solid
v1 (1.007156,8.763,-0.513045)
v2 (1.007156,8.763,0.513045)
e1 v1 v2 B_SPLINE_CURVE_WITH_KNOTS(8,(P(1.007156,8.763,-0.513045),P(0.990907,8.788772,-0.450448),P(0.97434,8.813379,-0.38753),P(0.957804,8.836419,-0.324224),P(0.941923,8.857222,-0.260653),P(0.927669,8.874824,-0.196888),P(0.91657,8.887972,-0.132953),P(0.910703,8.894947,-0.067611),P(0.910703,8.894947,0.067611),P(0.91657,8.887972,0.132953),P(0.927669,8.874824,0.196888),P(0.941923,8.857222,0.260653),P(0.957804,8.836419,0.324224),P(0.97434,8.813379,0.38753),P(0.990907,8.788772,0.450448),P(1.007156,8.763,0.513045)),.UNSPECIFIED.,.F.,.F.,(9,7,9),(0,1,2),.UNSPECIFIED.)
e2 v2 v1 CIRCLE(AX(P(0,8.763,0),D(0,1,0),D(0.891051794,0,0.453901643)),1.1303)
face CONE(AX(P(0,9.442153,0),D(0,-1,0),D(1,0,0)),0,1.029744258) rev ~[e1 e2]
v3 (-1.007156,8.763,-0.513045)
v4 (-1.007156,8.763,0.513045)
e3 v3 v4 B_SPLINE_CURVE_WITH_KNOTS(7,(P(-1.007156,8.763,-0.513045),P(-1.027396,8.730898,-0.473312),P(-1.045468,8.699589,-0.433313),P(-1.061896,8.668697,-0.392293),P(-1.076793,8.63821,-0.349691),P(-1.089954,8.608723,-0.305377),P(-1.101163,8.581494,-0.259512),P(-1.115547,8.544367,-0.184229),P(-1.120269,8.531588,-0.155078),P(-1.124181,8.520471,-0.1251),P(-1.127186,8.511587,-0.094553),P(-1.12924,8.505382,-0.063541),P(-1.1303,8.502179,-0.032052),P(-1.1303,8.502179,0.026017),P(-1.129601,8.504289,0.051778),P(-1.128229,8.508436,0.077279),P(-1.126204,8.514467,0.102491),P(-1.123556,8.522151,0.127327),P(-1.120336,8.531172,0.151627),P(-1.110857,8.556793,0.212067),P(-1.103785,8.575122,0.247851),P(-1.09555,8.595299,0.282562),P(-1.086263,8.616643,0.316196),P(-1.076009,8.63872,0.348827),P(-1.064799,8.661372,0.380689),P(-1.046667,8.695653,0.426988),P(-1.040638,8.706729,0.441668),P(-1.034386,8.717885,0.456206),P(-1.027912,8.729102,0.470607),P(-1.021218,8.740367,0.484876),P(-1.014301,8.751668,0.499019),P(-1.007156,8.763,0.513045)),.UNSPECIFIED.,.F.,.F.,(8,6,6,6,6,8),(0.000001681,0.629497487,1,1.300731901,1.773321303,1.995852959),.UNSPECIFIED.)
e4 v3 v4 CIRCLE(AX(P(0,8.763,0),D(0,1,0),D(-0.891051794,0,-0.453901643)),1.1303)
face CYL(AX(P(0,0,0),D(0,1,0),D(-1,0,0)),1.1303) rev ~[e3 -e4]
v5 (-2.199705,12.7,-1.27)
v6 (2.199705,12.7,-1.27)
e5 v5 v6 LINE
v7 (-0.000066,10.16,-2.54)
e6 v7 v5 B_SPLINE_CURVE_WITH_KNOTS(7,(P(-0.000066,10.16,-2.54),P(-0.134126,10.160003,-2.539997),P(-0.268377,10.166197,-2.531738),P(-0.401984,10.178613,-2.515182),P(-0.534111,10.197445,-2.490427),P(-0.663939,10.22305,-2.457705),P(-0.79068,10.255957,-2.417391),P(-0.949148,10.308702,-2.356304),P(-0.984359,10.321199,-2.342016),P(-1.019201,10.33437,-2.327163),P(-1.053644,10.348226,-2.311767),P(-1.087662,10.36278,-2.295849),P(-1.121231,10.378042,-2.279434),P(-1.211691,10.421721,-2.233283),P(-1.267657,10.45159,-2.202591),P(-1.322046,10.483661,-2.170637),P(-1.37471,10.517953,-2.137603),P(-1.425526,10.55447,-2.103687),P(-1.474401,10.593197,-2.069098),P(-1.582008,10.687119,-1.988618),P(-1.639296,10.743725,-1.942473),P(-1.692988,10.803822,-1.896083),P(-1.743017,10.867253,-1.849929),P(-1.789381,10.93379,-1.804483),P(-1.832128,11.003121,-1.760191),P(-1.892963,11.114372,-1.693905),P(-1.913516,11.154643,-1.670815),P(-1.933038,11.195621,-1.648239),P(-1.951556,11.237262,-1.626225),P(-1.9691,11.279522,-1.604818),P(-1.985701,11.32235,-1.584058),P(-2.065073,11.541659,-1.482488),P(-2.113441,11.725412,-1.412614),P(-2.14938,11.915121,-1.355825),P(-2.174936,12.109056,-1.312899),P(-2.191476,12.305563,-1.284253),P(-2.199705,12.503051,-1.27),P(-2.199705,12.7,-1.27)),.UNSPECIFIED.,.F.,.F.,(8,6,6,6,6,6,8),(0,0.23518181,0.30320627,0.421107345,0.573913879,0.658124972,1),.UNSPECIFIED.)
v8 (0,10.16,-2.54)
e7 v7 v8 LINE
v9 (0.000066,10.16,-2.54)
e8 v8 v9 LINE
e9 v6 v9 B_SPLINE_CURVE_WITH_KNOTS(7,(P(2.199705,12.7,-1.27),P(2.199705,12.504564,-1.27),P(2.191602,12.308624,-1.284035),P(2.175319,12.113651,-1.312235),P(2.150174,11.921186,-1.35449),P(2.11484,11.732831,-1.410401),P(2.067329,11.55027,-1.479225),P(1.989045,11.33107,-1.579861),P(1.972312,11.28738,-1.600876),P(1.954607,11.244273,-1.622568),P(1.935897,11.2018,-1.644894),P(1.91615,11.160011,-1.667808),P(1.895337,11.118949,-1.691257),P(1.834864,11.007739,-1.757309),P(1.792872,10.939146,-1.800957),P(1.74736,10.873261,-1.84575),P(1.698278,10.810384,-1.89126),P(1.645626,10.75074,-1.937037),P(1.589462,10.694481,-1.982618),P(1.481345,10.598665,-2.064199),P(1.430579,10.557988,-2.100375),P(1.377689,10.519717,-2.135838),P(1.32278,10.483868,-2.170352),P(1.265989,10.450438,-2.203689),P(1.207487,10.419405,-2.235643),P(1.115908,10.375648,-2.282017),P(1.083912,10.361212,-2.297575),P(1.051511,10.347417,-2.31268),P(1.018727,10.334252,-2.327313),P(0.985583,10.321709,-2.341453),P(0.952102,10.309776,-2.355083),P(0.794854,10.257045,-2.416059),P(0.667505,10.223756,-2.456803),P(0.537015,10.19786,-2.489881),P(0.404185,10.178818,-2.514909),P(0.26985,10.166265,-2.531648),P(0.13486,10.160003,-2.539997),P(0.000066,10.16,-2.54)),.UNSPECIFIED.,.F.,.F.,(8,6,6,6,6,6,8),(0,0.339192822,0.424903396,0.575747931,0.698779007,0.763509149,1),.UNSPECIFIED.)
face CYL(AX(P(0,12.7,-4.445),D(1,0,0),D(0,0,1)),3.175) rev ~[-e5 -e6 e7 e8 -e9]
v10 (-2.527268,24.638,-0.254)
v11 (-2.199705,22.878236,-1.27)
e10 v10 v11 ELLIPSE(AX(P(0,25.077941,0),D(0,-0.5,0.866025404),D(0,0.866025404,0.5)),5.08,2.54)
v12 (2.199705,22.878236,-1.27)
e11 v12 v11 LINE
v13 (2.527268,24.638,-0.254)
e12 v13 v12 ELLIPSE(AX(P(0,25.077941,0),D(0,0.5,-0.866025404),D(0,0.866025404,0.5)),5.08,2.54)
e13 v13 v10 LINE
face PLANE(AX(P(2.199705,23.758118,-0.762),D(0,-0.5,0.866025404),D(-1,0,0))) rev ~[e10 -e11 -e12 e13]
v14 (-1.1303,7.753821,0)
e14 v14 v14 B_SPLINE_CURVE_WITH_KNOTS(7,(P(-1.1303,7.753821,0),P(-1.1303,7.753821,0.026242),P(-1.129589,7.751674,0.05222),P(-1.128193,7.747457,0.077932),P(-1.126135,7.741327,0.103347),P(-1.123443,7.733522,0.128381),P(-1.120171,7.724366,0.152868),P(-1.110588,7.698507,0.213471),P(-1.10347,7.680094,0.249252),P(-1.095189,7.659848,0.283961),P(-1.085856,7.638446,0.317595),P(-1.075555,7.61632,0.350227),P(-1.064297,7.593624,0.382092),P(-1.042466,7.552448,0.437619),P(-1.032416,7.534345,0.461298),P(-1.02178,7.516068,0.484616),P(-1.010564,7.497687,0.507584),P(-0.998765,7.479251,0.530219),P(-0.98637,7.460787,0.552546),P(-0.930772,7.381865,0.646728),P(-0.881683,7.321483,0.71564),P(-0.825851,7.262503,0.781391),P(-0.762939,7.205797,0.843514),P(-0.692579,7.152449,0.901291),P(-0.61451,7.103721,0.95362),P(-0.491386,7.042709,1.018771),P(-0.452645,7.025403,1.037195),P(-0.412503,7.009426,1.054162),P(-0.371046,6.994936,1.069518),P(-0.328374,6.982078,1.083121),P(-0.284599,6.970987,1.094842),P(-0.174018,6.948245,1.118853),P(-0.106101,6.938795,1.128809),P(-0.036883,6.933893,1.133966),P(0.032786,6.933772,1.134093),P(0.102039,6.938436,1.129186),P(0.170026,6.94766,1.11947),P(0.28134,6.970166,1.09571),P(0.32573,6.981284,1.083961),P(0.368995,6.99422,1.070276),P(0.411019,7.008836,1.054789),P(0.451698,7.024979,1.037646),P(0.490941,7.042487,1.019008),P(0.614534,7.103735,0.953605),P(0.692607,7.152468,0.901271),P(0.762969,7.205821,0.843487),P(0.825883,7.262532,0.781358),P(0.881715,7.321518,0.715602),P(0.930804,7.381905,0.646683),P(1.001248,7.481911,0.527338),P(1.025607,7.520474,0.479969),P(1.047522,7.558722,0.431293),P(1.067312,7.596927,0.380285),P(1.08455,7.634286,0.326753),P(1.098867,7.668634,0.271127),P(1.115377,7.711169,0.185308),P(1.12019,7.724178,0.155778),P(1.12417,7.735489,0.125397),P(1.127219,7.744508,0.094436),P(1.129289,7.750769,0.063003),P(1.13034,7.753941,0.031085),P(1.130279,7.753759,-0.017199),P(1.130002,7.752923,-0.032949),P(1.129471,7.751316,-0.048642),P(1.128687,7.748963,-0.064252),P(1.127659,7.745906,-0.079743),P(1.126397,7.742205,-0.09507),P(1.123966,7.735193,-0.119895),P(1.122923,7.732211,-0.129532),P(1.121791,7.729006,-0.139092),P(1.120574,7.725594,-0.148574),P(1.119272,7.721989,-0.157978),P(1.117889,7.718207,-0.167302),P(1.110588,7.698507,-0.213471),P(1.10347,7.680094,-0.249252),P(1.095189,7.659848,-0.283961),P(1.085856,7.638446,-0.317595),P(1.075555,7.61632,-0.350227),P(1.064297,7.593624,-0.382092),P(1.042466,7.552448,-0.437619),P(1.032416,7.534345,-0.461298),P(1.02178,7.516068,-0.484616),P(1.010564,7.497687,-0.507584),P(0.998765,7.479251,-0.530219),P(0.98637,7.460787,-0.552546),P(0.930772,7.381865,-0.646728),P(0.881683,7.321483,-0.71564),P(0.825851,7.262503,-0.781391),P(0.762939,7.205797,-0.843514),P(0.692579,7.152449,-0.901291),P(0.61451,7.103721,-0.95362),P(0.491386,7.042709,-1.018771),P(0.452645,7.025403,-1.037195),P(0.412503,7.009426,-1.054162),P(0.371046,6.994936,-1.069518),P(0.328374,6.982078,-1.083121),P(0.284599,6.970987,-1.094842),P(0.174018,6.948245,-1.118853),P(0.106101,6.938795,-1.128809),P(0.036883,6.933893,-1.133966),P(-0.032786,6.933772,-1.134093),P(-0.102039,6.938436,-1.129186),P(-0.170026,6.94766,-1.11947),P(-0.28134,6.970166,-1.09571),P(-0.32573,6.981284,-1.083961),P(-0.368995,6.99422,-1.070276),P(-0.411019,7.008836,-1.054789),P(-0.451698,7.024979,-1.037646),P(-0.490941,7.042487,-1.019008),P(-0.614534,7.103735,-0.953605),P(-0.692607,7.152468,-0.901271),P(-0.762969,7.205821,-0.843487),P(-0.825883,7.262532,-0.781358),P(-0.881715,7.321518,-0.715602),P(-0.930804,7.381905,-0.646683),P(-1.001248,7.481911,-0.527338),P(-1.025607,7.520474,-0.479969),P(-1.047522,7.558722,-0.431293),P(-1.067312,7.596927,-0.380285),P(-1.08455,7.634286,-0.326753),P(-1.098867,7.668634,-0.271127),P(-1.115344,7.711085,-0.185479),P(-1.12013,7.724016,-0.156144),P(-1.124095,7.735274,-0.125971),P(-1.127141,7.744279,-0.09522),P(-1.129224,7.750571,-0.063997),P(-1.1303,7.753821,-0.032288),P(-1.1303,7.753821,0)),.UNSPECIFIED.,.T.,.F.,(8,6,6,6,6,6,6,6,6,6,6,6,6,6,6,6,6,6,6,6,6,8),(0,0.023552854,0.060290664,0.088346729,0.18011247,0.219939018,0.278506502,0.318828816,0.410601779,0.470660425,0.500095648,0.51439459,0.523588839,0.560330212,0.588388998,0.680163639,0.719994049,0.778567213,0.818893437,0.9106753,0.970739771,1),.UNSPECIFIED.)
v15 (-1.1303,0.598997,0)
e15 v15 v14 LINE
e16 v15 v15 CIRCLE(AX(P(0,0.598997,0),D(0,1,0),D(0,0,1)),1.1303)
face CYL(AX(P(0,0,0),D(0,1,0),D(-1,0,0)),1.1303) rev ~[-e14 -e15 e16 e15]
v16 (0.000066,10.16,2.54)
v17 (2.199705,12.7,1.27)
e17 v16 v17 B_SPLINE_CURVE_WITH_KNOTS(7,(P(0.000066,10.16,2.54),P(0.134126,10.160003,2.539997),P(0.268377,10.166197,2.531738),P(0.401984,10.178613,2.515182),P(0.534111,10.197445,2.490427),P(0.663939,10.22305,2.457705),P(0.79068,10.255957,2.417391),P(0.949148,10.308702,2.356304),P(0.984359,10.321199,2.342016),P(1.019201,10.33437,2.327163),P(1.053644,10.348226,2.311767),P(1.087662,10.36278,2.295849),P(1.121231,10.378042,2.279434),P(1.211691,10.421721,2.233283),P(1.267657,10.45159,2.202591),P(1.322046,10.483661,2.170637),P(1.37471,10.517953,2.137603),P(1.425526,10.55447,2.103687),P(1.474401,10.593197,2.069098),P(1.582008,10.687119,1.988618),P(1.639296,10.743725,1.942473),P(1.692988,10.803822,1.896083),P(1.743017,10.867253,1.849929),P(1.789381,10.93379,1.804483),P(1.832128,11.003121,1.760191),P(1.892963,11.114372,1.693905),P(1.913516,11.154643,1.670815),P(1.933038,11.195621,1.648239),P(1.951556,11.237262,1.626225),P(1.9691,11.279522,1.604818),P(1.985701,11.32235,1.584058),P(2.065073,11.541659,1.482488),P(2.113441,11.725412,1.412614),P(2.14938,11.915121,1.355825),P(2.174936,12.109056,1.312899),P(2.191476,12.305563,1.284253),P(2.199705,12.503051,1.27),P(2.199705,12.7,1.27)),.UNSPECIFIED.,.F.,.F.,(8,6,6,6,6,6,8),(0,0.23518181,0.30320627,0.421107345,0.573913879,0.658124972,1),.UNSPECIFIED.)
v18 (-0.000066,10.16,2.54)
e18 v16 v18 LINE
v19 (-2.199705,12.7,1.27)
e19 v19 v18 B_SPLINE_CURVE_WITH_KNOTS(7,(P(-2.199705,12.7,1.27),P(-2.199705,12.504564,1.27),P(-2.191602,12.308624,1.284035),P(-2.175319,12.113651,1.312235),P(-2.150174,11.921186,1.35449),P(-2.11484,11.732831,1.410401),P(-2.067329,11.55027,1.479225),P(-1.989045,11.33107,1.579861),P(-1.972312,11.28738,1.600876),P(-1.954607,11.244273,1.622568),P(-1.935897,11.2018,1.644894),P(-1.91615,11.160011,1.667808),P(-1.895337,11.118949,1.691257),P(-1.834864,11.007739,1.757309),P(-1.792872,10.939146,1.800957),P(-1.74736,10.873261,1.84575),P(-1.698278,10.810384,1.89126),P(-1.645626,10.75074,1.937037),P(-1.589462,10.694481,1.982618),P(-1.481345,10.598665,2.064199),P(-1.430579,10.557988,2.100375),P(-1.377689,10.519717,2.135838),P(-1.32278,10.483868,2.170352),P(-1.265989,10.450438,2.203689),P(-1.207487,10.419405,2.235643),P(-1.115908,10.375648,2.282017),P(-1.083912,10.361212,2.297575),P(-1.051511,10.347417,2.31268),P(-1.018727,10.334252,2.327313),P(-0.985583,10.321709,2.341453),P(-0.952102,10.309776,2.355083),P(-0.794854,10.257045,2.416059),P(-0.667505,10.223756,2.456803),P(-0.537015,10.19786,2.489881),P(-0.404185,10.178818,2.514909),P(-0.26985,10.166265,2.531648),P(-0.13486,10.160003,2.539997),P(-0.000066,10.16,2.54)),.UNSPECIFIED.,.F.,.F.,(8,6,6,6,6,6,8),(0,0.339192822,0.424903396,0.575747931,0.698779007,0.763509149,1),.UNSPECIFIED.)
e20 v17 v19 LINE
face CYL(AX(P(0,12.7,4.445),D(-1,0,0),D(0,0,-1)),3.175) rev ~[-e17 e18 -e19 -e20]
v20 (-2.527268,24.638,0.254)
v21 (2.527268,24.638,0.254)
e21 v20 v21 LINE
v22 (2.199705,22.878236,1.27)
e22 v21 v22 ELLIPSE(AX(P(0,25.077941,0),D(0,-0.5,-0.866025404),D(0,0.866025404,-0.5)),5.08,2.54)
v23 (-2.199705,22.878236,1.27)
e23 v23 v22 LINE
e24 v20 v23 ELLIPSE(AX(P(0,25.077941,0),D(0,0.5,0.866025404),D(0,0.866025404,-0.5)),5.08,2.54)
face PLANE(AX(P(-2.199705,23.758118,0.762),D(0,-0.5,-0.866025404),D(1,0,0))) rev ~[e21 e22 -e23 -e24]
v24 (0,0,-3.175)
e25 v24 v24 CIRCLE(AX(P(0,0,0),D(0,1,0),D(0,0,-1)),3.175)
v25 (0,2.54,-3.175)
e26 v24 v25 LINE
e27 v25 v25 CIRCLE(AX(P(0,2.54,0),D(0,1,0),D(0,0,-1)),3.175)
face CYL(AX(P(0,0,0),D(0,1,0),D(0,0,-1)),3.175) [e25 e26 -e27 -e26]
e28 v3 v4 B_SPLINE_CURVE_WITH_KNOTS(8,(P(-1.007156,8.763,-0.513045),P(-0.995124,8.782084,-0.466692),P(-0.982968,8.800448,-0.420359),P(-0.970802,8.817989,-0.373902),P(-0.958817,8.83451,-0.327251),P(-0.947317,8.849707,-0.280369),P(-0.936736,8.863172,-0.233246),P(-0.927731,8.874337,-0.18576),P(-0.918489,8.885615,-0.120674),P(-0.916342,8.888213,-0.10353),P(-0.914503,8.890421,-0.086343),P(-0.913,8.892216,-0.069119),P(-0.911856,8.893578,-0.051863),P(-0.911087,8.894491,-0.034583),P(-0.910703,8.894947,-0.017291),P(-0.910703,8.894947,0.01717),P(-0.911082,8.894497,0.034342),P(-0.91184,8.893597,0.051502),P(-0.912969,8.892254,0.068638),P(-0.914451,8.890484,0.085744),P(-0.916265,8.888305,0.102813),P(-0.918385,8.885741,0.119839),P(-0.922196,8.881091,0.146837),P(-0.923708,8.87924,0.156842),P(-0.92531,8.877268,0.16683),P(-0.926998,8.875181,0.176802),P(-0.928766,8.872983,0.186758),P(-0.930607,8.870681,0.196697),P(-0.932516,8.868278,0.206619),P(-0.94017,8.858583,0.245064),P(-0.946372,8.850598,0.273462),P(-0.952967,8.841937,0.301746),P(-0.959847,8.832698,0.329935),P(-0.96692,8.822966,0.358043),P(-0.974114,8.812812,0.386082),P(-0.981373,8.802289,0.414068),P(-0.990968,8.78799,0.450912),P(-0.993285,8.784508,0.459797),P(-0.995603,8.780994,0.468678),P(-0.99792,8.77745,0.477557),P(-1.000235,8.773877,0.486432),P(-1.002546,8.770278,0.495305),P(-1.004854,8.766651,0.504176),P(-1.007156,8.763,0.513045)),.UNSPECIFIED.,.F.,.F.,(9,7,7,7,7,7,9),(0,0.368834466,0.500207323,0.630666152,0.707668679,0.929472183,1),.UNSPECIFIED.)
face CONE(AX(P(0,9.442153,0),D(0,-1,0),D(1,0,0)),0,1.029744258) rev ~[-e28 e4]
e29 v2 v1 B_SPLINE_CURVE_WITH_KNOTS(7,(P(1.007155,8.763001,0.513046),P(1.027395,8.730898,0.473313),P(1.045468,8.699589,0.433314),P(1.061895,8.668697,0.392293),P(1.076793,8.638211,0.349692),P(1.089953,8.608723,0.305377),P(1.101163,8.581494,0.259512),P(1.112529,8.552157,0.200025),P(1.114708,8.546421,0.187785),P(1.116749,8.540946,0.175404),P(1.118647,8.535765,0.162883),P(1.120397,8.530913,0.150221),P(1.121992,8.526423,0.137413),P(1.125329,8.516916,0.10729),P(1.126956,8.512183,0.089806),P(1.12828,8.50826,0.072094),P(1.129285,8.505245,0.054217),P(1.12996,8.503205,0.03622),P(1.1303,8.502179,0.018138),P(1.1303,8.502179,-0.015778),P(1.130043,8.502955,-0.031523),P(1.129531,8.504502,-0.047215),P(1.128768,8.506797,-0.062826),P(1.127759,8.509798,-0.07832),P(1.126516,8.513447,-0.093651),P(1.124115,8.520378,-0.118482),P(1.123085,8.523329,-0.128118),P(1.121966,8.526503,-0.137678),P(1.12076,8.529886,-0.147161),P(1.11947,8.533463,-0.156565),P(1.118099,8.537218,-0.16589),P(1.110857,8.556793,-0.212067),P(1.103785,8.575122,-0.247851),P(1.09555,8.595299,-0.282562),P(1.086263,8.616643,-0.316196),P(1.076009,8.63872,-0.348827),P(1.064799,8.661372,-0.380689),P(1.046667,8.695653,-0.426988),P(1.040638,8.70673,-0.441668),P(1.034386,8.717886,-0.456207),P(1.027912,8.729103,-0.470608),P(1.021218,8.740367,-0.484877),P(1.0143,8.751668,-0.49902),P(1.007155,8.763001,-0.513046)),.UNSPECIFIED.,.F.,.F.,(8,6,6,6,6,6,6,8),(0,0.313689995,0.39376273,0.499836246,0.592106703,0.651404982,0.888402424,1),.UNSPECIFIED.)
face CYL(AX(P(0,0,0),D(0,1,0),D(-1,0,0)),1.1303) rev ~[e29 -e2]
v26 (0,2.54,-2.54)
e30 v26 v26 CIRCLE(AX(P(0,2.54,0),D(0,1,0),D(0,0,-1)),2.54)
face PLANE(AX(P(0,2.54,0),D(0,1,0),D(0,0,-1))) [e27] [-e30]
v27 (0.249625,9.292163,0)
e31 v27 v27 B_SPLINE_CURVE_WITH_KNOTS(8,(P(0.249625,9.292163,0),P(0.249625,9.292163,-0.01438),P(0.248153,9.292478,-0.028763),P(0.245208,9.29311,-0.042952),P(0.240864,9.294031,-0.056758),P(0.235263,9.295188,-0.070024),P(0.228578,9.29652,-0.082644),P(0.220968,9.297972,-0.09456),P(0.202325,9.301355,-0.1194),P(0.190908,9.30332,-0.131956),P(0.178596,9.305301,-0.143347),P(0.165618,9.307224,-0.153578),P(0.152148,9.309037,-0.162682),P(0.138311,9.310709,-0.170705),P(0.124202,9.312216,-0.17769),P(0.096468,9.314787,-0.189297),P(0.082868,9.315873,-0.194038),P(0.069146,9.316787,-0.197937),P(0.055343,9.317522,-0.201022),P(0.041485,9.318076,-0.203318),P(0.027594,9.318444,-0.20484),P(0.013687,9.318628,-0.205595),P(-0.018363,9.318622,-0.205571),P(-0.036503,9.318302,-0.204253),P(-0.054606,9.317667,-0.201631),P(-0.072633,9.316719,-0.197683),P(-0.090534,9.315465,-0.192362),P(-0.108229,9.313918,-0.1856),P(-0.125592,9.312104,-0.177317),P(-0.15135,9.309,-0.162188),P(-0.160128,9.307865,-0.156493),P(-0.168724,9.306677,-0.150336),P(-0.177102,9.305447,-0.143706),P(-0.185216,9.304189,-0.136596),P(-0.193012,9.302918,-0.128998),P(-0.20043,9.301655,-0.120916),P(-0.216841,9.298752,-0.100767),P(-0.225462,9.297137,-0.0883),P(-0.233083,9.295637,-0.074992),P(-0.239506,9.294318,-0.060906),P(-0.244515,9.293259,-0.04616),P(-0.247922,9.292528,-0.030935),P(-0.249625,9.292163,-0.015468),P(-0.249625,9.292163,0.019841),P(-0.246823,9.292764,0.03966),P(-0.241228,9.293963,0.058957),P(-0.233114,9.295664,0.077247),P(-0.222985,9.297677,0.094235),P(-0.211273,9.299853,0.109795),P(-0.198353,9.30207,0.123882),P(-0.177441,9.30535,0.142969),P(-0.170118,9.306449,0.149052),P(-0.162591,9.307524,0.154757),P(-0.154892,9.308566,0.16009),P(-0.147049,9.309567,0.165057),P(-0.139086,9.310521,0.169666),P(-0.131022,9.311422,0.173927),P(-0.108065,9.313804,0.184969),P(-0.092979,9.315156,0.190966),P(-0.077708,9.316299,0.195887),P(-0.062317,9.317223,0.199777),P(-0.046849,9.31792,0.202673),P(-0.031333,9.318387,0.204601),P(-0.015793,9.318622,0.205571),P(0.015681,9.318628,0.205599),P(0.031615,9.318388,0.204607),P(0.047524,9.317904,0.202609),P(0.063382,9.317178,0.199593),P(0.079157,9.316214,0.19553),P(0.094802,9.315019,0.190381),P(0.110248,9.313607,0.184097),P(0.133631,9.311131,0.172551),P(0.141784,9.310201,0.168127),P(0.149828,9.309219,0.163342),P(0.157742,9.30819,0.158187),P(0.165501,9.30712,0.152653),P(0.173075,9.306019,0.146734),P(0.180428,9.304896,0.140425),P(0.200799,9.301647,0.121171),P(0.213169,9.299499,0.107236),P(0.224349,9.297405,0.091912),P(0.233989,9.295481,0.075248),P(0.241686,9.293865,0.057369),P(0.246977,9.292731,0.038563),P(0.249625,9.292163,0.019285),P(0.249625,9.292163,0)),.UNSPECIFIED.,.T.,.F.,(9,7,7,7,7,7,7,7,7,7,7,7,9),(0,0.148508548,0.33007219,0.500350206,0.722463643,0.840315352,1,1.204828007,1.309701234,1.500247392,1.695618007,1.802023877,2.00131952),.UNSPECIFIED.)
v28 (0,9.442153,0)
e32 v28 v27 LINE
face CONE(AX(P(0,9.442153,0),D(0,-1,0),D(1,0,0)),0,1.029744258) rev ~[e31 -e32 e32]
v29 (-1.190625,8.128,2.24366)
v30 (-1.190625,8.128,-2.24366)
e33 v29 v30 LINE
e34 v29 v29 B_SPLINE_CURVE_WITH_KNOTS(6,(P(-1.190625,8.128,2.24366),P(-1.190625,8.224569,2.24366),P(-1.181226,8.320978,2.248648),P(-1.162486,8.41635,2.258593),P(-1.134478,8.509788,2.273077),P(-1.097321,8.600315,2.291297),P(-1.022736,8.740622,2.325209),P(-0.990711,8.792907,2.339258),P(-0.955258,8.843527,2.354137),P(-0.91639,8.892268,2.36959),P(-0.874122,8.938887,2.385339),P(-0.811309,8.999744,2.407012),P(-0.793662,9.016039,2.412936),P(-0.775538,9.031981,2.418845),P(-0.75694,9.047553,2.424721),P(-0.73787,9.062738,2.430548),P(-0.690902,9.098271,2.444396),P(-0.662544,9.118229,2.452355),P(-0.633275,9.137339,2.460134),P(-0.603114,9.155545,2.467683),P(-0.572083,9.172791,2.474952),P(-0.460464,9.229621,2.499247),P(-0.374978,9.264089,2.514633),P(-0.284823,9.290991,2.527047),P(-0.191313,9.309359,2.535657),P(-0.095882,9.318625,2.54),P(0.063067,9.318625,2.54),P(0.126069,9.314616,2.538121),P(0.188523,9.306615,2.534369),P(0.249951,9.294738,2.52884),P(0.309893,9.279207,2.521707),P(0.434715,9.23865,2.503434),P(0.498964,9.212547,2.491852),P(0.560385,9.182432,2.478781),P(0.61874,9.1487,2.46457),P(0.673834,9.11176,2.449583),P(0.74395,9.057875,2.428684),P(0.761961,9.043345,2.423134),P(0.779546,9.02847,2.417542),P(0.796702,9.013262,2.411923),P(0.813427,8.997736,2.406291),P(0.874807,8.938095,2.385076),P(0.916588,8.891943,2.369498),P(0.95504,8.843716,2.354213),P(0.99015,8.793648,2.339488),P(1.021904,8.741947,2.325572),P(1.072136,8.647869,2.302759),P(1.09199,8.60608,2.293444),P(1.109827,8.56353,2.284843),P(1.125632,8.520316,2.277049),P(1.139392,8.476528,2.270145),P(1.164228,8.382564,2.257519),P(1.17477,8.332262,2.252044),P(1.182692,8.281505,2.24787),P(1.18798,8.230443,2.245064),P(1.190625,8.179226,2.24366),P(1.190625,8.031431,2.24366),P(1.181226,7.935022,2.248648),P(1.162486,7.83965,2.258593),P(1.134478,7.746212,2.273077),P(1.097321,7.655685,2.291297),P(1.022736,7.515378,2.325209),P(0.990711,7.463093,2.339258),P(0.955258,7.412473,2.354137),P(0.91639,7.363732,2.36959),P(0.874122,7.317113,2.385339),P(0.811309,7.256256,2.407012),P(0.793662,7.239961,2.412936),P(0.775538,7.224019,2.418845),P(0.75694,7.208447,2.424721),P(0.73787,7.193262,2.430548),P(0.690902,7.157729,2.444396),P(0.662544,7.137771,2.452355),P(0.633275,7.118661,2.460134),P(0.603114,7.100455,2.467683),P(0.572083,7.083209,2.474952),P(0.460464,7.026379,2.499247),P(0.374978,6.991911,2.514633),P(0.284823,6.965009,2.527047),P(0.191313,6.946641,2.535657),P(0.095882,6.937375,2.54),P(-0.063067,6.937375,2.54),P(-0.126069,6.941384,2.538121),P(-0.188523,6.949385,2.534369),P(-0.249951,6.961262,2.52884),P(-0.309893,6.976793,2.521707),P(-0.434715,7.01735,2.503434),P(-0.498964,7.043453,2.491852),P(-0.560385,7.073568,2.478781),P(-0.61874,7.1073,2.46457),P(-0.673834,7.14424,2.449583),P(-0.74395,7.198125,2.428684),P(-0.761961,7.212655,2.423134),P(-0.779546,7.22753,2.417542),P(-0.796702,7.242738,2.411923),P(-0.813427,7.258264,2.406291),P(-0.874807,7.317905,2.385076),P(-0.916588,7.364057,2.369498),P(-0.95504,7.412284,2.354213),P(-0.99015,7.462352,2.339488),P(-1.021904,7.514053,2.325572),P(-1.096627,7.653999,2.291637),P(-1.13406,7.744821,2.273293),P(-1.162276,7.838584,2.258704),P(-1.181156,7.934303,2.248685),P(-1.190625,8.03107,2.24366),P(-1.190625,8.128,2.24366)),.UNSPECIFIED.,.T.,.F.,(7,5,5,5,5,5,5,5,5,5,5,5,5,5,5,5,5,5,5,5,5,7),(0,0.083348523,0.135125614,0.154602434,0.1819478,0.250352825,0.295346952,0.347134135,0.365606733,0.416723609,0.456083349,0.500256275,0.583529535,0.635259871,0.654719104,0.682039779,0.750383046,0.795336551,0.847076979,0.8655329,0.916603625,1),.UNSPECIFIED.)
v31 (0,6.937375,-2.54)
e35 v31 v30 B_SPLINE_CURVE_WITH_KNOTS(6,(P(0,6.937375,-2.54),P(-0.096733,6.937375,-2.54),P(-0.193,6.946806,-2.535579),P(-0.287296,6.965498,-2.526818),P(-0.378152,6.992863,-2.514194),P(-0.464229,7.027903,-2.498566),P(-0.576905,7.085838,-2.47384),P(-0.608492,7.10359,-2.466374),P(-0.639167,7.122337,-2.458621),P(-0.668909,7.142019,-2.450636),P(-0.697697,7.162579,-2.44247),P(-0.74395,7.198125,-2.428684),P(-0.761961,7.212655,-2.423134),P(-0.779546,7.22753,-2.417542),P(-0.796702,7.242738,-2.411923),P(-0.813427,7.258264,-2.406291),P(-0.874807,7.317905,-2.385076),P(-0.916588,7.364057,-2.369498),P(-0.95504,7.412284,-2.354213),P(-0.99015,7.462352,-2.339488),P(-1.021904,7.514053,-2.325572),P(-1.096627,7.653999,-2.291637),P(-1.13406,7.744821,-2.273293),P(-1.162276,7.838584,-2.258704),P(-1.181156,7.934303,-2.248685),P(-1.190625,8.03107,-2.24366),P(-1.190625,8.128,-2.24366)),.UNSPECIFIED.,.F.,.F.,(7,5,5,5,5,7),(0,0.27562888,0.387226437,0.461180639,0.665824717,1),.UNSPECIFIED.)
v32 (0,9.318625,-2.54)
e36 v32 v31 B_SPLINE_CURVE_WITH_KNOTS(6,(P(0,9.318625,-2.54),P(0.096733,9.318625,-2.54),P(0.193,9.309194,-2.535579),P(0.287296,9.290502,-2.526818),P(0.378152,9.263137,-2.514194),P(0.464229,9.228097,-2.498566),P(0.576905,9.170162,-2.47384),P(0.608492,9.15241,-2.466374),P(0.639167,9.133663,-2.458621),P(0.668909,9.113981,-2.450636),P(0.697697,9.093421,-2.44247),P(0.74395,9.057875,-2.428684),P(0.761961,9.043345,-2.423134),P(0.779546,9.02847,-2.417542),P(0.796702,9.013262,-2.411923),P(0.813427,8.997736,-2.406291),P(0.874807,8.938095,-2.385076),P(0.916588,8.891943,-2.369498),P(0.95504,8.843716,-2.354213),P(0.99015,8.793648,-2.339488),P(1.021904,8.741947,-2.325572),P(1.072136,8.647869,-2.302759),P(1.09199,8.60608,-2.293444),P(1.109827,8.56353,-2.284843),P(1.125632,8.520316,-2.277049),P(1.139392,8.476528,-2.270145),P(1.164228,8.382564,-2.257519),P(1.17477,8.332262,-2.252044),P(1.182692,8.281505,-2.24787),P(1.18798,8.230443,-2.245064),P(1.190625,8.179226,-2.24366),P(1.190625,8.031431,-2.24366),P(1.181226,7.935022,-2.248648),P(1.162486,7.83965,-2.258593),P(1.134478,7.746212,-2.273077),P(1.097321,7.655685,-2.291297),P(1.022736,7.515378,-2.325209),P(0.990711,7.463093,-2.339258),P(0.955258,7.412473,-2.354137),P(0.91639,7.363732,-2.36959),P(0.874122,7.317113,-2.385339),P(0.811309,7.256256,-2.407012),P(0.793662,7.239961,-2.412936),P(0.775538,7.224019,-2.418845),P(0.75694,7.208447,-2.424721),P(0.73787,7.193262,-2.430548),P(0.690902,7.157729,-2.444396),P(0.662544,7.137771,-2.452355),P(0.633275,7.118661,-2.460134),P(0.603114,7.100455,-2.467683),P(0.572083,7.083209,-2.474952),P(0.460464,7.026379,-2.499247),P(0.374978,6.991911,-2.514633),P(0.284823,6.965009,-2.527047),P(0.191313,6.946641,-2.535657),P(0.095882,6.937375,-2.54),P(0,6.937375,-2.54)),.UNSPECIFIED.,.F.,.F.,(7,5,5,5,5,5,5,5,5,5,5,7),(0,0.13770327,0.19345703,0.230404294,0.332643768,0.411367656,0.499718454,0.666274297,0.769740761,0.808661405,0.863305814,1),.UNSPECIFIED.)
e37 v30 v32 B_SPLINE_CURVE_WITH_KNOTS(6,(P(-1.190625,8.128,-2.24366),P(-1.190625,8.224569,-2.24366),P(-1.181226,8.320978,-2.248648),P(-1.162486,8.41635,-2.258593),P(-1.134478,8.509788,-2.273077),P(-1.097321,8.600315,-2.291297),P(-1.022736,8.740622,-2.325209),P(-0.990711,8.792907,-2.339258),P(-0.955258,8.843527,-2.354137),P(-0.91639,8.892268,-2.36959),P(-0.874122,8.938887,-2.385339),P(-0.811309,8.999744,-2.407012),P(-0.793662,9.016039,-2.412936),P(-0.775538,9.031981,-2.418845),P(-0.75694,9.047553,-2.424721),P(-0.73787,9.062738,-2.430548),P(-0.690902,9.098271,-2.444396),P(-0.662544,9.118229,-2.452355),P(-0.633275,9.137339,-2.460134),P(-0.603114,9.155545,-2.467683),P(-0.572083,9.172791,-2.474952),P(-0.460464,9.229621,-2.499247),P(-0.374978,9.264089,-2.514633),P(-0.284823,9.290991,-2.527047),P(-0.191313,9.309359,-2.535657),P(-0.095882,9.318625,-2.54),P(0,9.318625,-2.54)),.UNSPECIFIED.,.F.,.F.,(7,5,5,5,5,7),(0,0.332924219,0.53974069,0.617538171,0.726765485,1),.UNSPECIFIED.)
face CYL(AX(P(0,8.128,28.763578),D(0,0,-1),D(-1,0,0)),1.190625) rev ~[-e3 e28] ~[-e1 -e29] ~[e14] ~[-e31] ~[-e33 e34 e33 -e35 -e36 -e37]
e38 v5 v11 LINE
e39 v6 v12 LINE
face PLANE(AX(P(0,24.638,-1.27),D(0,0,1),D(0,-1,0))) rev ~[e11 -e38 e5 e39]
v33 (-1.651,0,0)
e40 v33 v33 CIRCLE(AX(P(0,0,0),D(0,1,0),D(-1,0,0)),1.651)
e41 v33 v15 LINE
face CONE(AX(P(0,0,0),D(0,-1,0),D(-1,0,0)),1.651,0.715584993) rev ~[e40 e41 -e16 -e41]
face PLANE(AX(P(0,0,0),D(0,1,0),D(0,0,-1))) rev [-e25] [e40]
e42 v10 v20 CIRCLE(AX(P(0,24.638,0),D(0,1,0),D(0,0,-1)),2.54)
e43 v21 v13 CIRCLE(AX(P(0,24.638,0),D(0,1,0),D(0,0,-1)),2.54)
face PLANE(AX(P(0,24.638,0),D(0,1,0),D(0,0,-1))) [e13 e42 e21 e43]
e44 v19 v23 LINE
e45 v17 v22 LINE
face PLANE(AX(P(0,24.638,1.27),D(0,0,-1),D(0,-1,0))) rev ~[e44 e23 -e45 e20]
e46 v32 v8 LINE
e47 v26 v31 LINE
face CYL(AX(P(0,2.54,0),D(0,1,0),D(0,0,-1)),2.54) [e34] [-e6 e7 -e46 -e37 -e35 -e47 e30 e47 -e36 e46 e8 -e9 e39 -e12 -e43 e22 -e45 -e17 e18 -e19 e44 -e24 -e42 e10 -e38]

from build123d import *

# Parameters (mm, degrees)
F_4_40_TAPPED_HOLE1_D           = 2.2606
F_4_40_TAPPED_HOLE1_DEPTH       = 8.763
F_4_40_TAPPED_HOLE1_CSINK_D     = 3.302
F_4_40_TAPPED_HOLE1_CSINK_ANGLE = 82
F_4_40_TAPPED_HOLE1_TIP         = 0.679152758
F_3_32_0_09375_DIAMETER_HOLE1_D = 2.38125
CUT_EXTRUDE1_DEPTH              = 26.043807596
CIRPATTERN1_COUNT               = 2
CHAMFER1_SIZE                   = 1.016
CHAMFER1_SIZE2                  = 1.75976362


with BuildPart() as part:
    # Sketch1 → Revolve1 (revolve)
    with BuildSketch(Plane.XY, mode=Mode.PRIVATE) as revolve1_sk:
        Polygon((0, 0), (3.175, 0), (3.175, 2.54), (2.54, 2.54), (2.54, 24.638), (0, 24.638), align=None)
    revolve(revolve1_sk.sketch.rotate(Axis((0, 0, 0), (0, 1, 0)), 90), axis=Axis((0, 0, 0), (0, 1, 0)))

    # 4-40 Tapped Hole1
    with Locations(Plane.XZ):
        with Locations((0, 0)):
            CounterSinkHole(F_4_40_TAPPED_HOLE1_D / 2, F_4_40_TAPPED_HOLE1_CSINK_D / 2, depth=F_4_40_TAPPED_HOLE1_DEPTH, counter_sink_angle=F_4_40_TAPPED_HOLE1_CSINK_ANGLE)
            with Locations((0, 0, -(F_4_40_TAPPED_HOLE1_DEPTH + F_4_40_TAPPED_HOLE1_TIP / 2))):  # 118° drill point
                Cone(0, F_4_40_TAPPED_HOLE1_D / 2, F_4_40_TAPPED_HOLE1_TIP, mode=Mode.SUBTRACT)

    # 3_32 _0.09375_ Diameter Hole1 (through all)
    with Locations(Plane.XY.offset(2.54)):
        with Locations((0, 8.128)):
            Hole(F_3_32_0_09375_DIAMETER_HOLE1_D / 2)

    # Sketch6 → Cut-Extrude1 (cut, symmetric)
    with BuildSketch(Plane(origin=(0, 0, 0), x_dir=(0, 0, -1), z_dir=(1, 0, 0))):
        with BuildLine():
            Line((1.27, 24.638), (1.27, 12.7))
            ThreePointArc((1.27, 12.7), (1.605193669, 11.280096834), (2.54, 10.16))
            Line((2.54, 10.16), (2.54, 24.638))
            Line((2.54, 24.638), (1.27, 24.638))
        make_face()
    cut_extrude1 = extrude(amount=CUT_EXTRUDE1_DEPTH, both=True, mode=Mode.SUBTRACT)

    # CirPattern1: Cut-Extrude1 ×2 about axis
    cirpattern1_axis = Axis((0, -1.2319, 0), (0, 1, 0))
    for i in range(1, CIRPATTERN1_COUNT):
        add(cut_extrude1.rotate(cirpattern1_axis, i * 360 / CIRPATTERN1_COUNT), mode=Mode.SUBTRACT)

    # Chamfer1
    chamfer1_edges = [part.edges().sort_by_distance(p)[0] for p in [
        (0, 24.638, -1.27),
        (0, 24.638, 1.27),
    ]]
    chamfer1_side = [part.faces().sort_by_distance(p)[0] for p in [
        (0, 24.638, 0),
    ]]
    chamfer(chamfer1_edges, length=CHAMFER1_SIZE, length2=CHAMFER1_SIZE2, reference=chamfer1_side[0])


solid = part.part
